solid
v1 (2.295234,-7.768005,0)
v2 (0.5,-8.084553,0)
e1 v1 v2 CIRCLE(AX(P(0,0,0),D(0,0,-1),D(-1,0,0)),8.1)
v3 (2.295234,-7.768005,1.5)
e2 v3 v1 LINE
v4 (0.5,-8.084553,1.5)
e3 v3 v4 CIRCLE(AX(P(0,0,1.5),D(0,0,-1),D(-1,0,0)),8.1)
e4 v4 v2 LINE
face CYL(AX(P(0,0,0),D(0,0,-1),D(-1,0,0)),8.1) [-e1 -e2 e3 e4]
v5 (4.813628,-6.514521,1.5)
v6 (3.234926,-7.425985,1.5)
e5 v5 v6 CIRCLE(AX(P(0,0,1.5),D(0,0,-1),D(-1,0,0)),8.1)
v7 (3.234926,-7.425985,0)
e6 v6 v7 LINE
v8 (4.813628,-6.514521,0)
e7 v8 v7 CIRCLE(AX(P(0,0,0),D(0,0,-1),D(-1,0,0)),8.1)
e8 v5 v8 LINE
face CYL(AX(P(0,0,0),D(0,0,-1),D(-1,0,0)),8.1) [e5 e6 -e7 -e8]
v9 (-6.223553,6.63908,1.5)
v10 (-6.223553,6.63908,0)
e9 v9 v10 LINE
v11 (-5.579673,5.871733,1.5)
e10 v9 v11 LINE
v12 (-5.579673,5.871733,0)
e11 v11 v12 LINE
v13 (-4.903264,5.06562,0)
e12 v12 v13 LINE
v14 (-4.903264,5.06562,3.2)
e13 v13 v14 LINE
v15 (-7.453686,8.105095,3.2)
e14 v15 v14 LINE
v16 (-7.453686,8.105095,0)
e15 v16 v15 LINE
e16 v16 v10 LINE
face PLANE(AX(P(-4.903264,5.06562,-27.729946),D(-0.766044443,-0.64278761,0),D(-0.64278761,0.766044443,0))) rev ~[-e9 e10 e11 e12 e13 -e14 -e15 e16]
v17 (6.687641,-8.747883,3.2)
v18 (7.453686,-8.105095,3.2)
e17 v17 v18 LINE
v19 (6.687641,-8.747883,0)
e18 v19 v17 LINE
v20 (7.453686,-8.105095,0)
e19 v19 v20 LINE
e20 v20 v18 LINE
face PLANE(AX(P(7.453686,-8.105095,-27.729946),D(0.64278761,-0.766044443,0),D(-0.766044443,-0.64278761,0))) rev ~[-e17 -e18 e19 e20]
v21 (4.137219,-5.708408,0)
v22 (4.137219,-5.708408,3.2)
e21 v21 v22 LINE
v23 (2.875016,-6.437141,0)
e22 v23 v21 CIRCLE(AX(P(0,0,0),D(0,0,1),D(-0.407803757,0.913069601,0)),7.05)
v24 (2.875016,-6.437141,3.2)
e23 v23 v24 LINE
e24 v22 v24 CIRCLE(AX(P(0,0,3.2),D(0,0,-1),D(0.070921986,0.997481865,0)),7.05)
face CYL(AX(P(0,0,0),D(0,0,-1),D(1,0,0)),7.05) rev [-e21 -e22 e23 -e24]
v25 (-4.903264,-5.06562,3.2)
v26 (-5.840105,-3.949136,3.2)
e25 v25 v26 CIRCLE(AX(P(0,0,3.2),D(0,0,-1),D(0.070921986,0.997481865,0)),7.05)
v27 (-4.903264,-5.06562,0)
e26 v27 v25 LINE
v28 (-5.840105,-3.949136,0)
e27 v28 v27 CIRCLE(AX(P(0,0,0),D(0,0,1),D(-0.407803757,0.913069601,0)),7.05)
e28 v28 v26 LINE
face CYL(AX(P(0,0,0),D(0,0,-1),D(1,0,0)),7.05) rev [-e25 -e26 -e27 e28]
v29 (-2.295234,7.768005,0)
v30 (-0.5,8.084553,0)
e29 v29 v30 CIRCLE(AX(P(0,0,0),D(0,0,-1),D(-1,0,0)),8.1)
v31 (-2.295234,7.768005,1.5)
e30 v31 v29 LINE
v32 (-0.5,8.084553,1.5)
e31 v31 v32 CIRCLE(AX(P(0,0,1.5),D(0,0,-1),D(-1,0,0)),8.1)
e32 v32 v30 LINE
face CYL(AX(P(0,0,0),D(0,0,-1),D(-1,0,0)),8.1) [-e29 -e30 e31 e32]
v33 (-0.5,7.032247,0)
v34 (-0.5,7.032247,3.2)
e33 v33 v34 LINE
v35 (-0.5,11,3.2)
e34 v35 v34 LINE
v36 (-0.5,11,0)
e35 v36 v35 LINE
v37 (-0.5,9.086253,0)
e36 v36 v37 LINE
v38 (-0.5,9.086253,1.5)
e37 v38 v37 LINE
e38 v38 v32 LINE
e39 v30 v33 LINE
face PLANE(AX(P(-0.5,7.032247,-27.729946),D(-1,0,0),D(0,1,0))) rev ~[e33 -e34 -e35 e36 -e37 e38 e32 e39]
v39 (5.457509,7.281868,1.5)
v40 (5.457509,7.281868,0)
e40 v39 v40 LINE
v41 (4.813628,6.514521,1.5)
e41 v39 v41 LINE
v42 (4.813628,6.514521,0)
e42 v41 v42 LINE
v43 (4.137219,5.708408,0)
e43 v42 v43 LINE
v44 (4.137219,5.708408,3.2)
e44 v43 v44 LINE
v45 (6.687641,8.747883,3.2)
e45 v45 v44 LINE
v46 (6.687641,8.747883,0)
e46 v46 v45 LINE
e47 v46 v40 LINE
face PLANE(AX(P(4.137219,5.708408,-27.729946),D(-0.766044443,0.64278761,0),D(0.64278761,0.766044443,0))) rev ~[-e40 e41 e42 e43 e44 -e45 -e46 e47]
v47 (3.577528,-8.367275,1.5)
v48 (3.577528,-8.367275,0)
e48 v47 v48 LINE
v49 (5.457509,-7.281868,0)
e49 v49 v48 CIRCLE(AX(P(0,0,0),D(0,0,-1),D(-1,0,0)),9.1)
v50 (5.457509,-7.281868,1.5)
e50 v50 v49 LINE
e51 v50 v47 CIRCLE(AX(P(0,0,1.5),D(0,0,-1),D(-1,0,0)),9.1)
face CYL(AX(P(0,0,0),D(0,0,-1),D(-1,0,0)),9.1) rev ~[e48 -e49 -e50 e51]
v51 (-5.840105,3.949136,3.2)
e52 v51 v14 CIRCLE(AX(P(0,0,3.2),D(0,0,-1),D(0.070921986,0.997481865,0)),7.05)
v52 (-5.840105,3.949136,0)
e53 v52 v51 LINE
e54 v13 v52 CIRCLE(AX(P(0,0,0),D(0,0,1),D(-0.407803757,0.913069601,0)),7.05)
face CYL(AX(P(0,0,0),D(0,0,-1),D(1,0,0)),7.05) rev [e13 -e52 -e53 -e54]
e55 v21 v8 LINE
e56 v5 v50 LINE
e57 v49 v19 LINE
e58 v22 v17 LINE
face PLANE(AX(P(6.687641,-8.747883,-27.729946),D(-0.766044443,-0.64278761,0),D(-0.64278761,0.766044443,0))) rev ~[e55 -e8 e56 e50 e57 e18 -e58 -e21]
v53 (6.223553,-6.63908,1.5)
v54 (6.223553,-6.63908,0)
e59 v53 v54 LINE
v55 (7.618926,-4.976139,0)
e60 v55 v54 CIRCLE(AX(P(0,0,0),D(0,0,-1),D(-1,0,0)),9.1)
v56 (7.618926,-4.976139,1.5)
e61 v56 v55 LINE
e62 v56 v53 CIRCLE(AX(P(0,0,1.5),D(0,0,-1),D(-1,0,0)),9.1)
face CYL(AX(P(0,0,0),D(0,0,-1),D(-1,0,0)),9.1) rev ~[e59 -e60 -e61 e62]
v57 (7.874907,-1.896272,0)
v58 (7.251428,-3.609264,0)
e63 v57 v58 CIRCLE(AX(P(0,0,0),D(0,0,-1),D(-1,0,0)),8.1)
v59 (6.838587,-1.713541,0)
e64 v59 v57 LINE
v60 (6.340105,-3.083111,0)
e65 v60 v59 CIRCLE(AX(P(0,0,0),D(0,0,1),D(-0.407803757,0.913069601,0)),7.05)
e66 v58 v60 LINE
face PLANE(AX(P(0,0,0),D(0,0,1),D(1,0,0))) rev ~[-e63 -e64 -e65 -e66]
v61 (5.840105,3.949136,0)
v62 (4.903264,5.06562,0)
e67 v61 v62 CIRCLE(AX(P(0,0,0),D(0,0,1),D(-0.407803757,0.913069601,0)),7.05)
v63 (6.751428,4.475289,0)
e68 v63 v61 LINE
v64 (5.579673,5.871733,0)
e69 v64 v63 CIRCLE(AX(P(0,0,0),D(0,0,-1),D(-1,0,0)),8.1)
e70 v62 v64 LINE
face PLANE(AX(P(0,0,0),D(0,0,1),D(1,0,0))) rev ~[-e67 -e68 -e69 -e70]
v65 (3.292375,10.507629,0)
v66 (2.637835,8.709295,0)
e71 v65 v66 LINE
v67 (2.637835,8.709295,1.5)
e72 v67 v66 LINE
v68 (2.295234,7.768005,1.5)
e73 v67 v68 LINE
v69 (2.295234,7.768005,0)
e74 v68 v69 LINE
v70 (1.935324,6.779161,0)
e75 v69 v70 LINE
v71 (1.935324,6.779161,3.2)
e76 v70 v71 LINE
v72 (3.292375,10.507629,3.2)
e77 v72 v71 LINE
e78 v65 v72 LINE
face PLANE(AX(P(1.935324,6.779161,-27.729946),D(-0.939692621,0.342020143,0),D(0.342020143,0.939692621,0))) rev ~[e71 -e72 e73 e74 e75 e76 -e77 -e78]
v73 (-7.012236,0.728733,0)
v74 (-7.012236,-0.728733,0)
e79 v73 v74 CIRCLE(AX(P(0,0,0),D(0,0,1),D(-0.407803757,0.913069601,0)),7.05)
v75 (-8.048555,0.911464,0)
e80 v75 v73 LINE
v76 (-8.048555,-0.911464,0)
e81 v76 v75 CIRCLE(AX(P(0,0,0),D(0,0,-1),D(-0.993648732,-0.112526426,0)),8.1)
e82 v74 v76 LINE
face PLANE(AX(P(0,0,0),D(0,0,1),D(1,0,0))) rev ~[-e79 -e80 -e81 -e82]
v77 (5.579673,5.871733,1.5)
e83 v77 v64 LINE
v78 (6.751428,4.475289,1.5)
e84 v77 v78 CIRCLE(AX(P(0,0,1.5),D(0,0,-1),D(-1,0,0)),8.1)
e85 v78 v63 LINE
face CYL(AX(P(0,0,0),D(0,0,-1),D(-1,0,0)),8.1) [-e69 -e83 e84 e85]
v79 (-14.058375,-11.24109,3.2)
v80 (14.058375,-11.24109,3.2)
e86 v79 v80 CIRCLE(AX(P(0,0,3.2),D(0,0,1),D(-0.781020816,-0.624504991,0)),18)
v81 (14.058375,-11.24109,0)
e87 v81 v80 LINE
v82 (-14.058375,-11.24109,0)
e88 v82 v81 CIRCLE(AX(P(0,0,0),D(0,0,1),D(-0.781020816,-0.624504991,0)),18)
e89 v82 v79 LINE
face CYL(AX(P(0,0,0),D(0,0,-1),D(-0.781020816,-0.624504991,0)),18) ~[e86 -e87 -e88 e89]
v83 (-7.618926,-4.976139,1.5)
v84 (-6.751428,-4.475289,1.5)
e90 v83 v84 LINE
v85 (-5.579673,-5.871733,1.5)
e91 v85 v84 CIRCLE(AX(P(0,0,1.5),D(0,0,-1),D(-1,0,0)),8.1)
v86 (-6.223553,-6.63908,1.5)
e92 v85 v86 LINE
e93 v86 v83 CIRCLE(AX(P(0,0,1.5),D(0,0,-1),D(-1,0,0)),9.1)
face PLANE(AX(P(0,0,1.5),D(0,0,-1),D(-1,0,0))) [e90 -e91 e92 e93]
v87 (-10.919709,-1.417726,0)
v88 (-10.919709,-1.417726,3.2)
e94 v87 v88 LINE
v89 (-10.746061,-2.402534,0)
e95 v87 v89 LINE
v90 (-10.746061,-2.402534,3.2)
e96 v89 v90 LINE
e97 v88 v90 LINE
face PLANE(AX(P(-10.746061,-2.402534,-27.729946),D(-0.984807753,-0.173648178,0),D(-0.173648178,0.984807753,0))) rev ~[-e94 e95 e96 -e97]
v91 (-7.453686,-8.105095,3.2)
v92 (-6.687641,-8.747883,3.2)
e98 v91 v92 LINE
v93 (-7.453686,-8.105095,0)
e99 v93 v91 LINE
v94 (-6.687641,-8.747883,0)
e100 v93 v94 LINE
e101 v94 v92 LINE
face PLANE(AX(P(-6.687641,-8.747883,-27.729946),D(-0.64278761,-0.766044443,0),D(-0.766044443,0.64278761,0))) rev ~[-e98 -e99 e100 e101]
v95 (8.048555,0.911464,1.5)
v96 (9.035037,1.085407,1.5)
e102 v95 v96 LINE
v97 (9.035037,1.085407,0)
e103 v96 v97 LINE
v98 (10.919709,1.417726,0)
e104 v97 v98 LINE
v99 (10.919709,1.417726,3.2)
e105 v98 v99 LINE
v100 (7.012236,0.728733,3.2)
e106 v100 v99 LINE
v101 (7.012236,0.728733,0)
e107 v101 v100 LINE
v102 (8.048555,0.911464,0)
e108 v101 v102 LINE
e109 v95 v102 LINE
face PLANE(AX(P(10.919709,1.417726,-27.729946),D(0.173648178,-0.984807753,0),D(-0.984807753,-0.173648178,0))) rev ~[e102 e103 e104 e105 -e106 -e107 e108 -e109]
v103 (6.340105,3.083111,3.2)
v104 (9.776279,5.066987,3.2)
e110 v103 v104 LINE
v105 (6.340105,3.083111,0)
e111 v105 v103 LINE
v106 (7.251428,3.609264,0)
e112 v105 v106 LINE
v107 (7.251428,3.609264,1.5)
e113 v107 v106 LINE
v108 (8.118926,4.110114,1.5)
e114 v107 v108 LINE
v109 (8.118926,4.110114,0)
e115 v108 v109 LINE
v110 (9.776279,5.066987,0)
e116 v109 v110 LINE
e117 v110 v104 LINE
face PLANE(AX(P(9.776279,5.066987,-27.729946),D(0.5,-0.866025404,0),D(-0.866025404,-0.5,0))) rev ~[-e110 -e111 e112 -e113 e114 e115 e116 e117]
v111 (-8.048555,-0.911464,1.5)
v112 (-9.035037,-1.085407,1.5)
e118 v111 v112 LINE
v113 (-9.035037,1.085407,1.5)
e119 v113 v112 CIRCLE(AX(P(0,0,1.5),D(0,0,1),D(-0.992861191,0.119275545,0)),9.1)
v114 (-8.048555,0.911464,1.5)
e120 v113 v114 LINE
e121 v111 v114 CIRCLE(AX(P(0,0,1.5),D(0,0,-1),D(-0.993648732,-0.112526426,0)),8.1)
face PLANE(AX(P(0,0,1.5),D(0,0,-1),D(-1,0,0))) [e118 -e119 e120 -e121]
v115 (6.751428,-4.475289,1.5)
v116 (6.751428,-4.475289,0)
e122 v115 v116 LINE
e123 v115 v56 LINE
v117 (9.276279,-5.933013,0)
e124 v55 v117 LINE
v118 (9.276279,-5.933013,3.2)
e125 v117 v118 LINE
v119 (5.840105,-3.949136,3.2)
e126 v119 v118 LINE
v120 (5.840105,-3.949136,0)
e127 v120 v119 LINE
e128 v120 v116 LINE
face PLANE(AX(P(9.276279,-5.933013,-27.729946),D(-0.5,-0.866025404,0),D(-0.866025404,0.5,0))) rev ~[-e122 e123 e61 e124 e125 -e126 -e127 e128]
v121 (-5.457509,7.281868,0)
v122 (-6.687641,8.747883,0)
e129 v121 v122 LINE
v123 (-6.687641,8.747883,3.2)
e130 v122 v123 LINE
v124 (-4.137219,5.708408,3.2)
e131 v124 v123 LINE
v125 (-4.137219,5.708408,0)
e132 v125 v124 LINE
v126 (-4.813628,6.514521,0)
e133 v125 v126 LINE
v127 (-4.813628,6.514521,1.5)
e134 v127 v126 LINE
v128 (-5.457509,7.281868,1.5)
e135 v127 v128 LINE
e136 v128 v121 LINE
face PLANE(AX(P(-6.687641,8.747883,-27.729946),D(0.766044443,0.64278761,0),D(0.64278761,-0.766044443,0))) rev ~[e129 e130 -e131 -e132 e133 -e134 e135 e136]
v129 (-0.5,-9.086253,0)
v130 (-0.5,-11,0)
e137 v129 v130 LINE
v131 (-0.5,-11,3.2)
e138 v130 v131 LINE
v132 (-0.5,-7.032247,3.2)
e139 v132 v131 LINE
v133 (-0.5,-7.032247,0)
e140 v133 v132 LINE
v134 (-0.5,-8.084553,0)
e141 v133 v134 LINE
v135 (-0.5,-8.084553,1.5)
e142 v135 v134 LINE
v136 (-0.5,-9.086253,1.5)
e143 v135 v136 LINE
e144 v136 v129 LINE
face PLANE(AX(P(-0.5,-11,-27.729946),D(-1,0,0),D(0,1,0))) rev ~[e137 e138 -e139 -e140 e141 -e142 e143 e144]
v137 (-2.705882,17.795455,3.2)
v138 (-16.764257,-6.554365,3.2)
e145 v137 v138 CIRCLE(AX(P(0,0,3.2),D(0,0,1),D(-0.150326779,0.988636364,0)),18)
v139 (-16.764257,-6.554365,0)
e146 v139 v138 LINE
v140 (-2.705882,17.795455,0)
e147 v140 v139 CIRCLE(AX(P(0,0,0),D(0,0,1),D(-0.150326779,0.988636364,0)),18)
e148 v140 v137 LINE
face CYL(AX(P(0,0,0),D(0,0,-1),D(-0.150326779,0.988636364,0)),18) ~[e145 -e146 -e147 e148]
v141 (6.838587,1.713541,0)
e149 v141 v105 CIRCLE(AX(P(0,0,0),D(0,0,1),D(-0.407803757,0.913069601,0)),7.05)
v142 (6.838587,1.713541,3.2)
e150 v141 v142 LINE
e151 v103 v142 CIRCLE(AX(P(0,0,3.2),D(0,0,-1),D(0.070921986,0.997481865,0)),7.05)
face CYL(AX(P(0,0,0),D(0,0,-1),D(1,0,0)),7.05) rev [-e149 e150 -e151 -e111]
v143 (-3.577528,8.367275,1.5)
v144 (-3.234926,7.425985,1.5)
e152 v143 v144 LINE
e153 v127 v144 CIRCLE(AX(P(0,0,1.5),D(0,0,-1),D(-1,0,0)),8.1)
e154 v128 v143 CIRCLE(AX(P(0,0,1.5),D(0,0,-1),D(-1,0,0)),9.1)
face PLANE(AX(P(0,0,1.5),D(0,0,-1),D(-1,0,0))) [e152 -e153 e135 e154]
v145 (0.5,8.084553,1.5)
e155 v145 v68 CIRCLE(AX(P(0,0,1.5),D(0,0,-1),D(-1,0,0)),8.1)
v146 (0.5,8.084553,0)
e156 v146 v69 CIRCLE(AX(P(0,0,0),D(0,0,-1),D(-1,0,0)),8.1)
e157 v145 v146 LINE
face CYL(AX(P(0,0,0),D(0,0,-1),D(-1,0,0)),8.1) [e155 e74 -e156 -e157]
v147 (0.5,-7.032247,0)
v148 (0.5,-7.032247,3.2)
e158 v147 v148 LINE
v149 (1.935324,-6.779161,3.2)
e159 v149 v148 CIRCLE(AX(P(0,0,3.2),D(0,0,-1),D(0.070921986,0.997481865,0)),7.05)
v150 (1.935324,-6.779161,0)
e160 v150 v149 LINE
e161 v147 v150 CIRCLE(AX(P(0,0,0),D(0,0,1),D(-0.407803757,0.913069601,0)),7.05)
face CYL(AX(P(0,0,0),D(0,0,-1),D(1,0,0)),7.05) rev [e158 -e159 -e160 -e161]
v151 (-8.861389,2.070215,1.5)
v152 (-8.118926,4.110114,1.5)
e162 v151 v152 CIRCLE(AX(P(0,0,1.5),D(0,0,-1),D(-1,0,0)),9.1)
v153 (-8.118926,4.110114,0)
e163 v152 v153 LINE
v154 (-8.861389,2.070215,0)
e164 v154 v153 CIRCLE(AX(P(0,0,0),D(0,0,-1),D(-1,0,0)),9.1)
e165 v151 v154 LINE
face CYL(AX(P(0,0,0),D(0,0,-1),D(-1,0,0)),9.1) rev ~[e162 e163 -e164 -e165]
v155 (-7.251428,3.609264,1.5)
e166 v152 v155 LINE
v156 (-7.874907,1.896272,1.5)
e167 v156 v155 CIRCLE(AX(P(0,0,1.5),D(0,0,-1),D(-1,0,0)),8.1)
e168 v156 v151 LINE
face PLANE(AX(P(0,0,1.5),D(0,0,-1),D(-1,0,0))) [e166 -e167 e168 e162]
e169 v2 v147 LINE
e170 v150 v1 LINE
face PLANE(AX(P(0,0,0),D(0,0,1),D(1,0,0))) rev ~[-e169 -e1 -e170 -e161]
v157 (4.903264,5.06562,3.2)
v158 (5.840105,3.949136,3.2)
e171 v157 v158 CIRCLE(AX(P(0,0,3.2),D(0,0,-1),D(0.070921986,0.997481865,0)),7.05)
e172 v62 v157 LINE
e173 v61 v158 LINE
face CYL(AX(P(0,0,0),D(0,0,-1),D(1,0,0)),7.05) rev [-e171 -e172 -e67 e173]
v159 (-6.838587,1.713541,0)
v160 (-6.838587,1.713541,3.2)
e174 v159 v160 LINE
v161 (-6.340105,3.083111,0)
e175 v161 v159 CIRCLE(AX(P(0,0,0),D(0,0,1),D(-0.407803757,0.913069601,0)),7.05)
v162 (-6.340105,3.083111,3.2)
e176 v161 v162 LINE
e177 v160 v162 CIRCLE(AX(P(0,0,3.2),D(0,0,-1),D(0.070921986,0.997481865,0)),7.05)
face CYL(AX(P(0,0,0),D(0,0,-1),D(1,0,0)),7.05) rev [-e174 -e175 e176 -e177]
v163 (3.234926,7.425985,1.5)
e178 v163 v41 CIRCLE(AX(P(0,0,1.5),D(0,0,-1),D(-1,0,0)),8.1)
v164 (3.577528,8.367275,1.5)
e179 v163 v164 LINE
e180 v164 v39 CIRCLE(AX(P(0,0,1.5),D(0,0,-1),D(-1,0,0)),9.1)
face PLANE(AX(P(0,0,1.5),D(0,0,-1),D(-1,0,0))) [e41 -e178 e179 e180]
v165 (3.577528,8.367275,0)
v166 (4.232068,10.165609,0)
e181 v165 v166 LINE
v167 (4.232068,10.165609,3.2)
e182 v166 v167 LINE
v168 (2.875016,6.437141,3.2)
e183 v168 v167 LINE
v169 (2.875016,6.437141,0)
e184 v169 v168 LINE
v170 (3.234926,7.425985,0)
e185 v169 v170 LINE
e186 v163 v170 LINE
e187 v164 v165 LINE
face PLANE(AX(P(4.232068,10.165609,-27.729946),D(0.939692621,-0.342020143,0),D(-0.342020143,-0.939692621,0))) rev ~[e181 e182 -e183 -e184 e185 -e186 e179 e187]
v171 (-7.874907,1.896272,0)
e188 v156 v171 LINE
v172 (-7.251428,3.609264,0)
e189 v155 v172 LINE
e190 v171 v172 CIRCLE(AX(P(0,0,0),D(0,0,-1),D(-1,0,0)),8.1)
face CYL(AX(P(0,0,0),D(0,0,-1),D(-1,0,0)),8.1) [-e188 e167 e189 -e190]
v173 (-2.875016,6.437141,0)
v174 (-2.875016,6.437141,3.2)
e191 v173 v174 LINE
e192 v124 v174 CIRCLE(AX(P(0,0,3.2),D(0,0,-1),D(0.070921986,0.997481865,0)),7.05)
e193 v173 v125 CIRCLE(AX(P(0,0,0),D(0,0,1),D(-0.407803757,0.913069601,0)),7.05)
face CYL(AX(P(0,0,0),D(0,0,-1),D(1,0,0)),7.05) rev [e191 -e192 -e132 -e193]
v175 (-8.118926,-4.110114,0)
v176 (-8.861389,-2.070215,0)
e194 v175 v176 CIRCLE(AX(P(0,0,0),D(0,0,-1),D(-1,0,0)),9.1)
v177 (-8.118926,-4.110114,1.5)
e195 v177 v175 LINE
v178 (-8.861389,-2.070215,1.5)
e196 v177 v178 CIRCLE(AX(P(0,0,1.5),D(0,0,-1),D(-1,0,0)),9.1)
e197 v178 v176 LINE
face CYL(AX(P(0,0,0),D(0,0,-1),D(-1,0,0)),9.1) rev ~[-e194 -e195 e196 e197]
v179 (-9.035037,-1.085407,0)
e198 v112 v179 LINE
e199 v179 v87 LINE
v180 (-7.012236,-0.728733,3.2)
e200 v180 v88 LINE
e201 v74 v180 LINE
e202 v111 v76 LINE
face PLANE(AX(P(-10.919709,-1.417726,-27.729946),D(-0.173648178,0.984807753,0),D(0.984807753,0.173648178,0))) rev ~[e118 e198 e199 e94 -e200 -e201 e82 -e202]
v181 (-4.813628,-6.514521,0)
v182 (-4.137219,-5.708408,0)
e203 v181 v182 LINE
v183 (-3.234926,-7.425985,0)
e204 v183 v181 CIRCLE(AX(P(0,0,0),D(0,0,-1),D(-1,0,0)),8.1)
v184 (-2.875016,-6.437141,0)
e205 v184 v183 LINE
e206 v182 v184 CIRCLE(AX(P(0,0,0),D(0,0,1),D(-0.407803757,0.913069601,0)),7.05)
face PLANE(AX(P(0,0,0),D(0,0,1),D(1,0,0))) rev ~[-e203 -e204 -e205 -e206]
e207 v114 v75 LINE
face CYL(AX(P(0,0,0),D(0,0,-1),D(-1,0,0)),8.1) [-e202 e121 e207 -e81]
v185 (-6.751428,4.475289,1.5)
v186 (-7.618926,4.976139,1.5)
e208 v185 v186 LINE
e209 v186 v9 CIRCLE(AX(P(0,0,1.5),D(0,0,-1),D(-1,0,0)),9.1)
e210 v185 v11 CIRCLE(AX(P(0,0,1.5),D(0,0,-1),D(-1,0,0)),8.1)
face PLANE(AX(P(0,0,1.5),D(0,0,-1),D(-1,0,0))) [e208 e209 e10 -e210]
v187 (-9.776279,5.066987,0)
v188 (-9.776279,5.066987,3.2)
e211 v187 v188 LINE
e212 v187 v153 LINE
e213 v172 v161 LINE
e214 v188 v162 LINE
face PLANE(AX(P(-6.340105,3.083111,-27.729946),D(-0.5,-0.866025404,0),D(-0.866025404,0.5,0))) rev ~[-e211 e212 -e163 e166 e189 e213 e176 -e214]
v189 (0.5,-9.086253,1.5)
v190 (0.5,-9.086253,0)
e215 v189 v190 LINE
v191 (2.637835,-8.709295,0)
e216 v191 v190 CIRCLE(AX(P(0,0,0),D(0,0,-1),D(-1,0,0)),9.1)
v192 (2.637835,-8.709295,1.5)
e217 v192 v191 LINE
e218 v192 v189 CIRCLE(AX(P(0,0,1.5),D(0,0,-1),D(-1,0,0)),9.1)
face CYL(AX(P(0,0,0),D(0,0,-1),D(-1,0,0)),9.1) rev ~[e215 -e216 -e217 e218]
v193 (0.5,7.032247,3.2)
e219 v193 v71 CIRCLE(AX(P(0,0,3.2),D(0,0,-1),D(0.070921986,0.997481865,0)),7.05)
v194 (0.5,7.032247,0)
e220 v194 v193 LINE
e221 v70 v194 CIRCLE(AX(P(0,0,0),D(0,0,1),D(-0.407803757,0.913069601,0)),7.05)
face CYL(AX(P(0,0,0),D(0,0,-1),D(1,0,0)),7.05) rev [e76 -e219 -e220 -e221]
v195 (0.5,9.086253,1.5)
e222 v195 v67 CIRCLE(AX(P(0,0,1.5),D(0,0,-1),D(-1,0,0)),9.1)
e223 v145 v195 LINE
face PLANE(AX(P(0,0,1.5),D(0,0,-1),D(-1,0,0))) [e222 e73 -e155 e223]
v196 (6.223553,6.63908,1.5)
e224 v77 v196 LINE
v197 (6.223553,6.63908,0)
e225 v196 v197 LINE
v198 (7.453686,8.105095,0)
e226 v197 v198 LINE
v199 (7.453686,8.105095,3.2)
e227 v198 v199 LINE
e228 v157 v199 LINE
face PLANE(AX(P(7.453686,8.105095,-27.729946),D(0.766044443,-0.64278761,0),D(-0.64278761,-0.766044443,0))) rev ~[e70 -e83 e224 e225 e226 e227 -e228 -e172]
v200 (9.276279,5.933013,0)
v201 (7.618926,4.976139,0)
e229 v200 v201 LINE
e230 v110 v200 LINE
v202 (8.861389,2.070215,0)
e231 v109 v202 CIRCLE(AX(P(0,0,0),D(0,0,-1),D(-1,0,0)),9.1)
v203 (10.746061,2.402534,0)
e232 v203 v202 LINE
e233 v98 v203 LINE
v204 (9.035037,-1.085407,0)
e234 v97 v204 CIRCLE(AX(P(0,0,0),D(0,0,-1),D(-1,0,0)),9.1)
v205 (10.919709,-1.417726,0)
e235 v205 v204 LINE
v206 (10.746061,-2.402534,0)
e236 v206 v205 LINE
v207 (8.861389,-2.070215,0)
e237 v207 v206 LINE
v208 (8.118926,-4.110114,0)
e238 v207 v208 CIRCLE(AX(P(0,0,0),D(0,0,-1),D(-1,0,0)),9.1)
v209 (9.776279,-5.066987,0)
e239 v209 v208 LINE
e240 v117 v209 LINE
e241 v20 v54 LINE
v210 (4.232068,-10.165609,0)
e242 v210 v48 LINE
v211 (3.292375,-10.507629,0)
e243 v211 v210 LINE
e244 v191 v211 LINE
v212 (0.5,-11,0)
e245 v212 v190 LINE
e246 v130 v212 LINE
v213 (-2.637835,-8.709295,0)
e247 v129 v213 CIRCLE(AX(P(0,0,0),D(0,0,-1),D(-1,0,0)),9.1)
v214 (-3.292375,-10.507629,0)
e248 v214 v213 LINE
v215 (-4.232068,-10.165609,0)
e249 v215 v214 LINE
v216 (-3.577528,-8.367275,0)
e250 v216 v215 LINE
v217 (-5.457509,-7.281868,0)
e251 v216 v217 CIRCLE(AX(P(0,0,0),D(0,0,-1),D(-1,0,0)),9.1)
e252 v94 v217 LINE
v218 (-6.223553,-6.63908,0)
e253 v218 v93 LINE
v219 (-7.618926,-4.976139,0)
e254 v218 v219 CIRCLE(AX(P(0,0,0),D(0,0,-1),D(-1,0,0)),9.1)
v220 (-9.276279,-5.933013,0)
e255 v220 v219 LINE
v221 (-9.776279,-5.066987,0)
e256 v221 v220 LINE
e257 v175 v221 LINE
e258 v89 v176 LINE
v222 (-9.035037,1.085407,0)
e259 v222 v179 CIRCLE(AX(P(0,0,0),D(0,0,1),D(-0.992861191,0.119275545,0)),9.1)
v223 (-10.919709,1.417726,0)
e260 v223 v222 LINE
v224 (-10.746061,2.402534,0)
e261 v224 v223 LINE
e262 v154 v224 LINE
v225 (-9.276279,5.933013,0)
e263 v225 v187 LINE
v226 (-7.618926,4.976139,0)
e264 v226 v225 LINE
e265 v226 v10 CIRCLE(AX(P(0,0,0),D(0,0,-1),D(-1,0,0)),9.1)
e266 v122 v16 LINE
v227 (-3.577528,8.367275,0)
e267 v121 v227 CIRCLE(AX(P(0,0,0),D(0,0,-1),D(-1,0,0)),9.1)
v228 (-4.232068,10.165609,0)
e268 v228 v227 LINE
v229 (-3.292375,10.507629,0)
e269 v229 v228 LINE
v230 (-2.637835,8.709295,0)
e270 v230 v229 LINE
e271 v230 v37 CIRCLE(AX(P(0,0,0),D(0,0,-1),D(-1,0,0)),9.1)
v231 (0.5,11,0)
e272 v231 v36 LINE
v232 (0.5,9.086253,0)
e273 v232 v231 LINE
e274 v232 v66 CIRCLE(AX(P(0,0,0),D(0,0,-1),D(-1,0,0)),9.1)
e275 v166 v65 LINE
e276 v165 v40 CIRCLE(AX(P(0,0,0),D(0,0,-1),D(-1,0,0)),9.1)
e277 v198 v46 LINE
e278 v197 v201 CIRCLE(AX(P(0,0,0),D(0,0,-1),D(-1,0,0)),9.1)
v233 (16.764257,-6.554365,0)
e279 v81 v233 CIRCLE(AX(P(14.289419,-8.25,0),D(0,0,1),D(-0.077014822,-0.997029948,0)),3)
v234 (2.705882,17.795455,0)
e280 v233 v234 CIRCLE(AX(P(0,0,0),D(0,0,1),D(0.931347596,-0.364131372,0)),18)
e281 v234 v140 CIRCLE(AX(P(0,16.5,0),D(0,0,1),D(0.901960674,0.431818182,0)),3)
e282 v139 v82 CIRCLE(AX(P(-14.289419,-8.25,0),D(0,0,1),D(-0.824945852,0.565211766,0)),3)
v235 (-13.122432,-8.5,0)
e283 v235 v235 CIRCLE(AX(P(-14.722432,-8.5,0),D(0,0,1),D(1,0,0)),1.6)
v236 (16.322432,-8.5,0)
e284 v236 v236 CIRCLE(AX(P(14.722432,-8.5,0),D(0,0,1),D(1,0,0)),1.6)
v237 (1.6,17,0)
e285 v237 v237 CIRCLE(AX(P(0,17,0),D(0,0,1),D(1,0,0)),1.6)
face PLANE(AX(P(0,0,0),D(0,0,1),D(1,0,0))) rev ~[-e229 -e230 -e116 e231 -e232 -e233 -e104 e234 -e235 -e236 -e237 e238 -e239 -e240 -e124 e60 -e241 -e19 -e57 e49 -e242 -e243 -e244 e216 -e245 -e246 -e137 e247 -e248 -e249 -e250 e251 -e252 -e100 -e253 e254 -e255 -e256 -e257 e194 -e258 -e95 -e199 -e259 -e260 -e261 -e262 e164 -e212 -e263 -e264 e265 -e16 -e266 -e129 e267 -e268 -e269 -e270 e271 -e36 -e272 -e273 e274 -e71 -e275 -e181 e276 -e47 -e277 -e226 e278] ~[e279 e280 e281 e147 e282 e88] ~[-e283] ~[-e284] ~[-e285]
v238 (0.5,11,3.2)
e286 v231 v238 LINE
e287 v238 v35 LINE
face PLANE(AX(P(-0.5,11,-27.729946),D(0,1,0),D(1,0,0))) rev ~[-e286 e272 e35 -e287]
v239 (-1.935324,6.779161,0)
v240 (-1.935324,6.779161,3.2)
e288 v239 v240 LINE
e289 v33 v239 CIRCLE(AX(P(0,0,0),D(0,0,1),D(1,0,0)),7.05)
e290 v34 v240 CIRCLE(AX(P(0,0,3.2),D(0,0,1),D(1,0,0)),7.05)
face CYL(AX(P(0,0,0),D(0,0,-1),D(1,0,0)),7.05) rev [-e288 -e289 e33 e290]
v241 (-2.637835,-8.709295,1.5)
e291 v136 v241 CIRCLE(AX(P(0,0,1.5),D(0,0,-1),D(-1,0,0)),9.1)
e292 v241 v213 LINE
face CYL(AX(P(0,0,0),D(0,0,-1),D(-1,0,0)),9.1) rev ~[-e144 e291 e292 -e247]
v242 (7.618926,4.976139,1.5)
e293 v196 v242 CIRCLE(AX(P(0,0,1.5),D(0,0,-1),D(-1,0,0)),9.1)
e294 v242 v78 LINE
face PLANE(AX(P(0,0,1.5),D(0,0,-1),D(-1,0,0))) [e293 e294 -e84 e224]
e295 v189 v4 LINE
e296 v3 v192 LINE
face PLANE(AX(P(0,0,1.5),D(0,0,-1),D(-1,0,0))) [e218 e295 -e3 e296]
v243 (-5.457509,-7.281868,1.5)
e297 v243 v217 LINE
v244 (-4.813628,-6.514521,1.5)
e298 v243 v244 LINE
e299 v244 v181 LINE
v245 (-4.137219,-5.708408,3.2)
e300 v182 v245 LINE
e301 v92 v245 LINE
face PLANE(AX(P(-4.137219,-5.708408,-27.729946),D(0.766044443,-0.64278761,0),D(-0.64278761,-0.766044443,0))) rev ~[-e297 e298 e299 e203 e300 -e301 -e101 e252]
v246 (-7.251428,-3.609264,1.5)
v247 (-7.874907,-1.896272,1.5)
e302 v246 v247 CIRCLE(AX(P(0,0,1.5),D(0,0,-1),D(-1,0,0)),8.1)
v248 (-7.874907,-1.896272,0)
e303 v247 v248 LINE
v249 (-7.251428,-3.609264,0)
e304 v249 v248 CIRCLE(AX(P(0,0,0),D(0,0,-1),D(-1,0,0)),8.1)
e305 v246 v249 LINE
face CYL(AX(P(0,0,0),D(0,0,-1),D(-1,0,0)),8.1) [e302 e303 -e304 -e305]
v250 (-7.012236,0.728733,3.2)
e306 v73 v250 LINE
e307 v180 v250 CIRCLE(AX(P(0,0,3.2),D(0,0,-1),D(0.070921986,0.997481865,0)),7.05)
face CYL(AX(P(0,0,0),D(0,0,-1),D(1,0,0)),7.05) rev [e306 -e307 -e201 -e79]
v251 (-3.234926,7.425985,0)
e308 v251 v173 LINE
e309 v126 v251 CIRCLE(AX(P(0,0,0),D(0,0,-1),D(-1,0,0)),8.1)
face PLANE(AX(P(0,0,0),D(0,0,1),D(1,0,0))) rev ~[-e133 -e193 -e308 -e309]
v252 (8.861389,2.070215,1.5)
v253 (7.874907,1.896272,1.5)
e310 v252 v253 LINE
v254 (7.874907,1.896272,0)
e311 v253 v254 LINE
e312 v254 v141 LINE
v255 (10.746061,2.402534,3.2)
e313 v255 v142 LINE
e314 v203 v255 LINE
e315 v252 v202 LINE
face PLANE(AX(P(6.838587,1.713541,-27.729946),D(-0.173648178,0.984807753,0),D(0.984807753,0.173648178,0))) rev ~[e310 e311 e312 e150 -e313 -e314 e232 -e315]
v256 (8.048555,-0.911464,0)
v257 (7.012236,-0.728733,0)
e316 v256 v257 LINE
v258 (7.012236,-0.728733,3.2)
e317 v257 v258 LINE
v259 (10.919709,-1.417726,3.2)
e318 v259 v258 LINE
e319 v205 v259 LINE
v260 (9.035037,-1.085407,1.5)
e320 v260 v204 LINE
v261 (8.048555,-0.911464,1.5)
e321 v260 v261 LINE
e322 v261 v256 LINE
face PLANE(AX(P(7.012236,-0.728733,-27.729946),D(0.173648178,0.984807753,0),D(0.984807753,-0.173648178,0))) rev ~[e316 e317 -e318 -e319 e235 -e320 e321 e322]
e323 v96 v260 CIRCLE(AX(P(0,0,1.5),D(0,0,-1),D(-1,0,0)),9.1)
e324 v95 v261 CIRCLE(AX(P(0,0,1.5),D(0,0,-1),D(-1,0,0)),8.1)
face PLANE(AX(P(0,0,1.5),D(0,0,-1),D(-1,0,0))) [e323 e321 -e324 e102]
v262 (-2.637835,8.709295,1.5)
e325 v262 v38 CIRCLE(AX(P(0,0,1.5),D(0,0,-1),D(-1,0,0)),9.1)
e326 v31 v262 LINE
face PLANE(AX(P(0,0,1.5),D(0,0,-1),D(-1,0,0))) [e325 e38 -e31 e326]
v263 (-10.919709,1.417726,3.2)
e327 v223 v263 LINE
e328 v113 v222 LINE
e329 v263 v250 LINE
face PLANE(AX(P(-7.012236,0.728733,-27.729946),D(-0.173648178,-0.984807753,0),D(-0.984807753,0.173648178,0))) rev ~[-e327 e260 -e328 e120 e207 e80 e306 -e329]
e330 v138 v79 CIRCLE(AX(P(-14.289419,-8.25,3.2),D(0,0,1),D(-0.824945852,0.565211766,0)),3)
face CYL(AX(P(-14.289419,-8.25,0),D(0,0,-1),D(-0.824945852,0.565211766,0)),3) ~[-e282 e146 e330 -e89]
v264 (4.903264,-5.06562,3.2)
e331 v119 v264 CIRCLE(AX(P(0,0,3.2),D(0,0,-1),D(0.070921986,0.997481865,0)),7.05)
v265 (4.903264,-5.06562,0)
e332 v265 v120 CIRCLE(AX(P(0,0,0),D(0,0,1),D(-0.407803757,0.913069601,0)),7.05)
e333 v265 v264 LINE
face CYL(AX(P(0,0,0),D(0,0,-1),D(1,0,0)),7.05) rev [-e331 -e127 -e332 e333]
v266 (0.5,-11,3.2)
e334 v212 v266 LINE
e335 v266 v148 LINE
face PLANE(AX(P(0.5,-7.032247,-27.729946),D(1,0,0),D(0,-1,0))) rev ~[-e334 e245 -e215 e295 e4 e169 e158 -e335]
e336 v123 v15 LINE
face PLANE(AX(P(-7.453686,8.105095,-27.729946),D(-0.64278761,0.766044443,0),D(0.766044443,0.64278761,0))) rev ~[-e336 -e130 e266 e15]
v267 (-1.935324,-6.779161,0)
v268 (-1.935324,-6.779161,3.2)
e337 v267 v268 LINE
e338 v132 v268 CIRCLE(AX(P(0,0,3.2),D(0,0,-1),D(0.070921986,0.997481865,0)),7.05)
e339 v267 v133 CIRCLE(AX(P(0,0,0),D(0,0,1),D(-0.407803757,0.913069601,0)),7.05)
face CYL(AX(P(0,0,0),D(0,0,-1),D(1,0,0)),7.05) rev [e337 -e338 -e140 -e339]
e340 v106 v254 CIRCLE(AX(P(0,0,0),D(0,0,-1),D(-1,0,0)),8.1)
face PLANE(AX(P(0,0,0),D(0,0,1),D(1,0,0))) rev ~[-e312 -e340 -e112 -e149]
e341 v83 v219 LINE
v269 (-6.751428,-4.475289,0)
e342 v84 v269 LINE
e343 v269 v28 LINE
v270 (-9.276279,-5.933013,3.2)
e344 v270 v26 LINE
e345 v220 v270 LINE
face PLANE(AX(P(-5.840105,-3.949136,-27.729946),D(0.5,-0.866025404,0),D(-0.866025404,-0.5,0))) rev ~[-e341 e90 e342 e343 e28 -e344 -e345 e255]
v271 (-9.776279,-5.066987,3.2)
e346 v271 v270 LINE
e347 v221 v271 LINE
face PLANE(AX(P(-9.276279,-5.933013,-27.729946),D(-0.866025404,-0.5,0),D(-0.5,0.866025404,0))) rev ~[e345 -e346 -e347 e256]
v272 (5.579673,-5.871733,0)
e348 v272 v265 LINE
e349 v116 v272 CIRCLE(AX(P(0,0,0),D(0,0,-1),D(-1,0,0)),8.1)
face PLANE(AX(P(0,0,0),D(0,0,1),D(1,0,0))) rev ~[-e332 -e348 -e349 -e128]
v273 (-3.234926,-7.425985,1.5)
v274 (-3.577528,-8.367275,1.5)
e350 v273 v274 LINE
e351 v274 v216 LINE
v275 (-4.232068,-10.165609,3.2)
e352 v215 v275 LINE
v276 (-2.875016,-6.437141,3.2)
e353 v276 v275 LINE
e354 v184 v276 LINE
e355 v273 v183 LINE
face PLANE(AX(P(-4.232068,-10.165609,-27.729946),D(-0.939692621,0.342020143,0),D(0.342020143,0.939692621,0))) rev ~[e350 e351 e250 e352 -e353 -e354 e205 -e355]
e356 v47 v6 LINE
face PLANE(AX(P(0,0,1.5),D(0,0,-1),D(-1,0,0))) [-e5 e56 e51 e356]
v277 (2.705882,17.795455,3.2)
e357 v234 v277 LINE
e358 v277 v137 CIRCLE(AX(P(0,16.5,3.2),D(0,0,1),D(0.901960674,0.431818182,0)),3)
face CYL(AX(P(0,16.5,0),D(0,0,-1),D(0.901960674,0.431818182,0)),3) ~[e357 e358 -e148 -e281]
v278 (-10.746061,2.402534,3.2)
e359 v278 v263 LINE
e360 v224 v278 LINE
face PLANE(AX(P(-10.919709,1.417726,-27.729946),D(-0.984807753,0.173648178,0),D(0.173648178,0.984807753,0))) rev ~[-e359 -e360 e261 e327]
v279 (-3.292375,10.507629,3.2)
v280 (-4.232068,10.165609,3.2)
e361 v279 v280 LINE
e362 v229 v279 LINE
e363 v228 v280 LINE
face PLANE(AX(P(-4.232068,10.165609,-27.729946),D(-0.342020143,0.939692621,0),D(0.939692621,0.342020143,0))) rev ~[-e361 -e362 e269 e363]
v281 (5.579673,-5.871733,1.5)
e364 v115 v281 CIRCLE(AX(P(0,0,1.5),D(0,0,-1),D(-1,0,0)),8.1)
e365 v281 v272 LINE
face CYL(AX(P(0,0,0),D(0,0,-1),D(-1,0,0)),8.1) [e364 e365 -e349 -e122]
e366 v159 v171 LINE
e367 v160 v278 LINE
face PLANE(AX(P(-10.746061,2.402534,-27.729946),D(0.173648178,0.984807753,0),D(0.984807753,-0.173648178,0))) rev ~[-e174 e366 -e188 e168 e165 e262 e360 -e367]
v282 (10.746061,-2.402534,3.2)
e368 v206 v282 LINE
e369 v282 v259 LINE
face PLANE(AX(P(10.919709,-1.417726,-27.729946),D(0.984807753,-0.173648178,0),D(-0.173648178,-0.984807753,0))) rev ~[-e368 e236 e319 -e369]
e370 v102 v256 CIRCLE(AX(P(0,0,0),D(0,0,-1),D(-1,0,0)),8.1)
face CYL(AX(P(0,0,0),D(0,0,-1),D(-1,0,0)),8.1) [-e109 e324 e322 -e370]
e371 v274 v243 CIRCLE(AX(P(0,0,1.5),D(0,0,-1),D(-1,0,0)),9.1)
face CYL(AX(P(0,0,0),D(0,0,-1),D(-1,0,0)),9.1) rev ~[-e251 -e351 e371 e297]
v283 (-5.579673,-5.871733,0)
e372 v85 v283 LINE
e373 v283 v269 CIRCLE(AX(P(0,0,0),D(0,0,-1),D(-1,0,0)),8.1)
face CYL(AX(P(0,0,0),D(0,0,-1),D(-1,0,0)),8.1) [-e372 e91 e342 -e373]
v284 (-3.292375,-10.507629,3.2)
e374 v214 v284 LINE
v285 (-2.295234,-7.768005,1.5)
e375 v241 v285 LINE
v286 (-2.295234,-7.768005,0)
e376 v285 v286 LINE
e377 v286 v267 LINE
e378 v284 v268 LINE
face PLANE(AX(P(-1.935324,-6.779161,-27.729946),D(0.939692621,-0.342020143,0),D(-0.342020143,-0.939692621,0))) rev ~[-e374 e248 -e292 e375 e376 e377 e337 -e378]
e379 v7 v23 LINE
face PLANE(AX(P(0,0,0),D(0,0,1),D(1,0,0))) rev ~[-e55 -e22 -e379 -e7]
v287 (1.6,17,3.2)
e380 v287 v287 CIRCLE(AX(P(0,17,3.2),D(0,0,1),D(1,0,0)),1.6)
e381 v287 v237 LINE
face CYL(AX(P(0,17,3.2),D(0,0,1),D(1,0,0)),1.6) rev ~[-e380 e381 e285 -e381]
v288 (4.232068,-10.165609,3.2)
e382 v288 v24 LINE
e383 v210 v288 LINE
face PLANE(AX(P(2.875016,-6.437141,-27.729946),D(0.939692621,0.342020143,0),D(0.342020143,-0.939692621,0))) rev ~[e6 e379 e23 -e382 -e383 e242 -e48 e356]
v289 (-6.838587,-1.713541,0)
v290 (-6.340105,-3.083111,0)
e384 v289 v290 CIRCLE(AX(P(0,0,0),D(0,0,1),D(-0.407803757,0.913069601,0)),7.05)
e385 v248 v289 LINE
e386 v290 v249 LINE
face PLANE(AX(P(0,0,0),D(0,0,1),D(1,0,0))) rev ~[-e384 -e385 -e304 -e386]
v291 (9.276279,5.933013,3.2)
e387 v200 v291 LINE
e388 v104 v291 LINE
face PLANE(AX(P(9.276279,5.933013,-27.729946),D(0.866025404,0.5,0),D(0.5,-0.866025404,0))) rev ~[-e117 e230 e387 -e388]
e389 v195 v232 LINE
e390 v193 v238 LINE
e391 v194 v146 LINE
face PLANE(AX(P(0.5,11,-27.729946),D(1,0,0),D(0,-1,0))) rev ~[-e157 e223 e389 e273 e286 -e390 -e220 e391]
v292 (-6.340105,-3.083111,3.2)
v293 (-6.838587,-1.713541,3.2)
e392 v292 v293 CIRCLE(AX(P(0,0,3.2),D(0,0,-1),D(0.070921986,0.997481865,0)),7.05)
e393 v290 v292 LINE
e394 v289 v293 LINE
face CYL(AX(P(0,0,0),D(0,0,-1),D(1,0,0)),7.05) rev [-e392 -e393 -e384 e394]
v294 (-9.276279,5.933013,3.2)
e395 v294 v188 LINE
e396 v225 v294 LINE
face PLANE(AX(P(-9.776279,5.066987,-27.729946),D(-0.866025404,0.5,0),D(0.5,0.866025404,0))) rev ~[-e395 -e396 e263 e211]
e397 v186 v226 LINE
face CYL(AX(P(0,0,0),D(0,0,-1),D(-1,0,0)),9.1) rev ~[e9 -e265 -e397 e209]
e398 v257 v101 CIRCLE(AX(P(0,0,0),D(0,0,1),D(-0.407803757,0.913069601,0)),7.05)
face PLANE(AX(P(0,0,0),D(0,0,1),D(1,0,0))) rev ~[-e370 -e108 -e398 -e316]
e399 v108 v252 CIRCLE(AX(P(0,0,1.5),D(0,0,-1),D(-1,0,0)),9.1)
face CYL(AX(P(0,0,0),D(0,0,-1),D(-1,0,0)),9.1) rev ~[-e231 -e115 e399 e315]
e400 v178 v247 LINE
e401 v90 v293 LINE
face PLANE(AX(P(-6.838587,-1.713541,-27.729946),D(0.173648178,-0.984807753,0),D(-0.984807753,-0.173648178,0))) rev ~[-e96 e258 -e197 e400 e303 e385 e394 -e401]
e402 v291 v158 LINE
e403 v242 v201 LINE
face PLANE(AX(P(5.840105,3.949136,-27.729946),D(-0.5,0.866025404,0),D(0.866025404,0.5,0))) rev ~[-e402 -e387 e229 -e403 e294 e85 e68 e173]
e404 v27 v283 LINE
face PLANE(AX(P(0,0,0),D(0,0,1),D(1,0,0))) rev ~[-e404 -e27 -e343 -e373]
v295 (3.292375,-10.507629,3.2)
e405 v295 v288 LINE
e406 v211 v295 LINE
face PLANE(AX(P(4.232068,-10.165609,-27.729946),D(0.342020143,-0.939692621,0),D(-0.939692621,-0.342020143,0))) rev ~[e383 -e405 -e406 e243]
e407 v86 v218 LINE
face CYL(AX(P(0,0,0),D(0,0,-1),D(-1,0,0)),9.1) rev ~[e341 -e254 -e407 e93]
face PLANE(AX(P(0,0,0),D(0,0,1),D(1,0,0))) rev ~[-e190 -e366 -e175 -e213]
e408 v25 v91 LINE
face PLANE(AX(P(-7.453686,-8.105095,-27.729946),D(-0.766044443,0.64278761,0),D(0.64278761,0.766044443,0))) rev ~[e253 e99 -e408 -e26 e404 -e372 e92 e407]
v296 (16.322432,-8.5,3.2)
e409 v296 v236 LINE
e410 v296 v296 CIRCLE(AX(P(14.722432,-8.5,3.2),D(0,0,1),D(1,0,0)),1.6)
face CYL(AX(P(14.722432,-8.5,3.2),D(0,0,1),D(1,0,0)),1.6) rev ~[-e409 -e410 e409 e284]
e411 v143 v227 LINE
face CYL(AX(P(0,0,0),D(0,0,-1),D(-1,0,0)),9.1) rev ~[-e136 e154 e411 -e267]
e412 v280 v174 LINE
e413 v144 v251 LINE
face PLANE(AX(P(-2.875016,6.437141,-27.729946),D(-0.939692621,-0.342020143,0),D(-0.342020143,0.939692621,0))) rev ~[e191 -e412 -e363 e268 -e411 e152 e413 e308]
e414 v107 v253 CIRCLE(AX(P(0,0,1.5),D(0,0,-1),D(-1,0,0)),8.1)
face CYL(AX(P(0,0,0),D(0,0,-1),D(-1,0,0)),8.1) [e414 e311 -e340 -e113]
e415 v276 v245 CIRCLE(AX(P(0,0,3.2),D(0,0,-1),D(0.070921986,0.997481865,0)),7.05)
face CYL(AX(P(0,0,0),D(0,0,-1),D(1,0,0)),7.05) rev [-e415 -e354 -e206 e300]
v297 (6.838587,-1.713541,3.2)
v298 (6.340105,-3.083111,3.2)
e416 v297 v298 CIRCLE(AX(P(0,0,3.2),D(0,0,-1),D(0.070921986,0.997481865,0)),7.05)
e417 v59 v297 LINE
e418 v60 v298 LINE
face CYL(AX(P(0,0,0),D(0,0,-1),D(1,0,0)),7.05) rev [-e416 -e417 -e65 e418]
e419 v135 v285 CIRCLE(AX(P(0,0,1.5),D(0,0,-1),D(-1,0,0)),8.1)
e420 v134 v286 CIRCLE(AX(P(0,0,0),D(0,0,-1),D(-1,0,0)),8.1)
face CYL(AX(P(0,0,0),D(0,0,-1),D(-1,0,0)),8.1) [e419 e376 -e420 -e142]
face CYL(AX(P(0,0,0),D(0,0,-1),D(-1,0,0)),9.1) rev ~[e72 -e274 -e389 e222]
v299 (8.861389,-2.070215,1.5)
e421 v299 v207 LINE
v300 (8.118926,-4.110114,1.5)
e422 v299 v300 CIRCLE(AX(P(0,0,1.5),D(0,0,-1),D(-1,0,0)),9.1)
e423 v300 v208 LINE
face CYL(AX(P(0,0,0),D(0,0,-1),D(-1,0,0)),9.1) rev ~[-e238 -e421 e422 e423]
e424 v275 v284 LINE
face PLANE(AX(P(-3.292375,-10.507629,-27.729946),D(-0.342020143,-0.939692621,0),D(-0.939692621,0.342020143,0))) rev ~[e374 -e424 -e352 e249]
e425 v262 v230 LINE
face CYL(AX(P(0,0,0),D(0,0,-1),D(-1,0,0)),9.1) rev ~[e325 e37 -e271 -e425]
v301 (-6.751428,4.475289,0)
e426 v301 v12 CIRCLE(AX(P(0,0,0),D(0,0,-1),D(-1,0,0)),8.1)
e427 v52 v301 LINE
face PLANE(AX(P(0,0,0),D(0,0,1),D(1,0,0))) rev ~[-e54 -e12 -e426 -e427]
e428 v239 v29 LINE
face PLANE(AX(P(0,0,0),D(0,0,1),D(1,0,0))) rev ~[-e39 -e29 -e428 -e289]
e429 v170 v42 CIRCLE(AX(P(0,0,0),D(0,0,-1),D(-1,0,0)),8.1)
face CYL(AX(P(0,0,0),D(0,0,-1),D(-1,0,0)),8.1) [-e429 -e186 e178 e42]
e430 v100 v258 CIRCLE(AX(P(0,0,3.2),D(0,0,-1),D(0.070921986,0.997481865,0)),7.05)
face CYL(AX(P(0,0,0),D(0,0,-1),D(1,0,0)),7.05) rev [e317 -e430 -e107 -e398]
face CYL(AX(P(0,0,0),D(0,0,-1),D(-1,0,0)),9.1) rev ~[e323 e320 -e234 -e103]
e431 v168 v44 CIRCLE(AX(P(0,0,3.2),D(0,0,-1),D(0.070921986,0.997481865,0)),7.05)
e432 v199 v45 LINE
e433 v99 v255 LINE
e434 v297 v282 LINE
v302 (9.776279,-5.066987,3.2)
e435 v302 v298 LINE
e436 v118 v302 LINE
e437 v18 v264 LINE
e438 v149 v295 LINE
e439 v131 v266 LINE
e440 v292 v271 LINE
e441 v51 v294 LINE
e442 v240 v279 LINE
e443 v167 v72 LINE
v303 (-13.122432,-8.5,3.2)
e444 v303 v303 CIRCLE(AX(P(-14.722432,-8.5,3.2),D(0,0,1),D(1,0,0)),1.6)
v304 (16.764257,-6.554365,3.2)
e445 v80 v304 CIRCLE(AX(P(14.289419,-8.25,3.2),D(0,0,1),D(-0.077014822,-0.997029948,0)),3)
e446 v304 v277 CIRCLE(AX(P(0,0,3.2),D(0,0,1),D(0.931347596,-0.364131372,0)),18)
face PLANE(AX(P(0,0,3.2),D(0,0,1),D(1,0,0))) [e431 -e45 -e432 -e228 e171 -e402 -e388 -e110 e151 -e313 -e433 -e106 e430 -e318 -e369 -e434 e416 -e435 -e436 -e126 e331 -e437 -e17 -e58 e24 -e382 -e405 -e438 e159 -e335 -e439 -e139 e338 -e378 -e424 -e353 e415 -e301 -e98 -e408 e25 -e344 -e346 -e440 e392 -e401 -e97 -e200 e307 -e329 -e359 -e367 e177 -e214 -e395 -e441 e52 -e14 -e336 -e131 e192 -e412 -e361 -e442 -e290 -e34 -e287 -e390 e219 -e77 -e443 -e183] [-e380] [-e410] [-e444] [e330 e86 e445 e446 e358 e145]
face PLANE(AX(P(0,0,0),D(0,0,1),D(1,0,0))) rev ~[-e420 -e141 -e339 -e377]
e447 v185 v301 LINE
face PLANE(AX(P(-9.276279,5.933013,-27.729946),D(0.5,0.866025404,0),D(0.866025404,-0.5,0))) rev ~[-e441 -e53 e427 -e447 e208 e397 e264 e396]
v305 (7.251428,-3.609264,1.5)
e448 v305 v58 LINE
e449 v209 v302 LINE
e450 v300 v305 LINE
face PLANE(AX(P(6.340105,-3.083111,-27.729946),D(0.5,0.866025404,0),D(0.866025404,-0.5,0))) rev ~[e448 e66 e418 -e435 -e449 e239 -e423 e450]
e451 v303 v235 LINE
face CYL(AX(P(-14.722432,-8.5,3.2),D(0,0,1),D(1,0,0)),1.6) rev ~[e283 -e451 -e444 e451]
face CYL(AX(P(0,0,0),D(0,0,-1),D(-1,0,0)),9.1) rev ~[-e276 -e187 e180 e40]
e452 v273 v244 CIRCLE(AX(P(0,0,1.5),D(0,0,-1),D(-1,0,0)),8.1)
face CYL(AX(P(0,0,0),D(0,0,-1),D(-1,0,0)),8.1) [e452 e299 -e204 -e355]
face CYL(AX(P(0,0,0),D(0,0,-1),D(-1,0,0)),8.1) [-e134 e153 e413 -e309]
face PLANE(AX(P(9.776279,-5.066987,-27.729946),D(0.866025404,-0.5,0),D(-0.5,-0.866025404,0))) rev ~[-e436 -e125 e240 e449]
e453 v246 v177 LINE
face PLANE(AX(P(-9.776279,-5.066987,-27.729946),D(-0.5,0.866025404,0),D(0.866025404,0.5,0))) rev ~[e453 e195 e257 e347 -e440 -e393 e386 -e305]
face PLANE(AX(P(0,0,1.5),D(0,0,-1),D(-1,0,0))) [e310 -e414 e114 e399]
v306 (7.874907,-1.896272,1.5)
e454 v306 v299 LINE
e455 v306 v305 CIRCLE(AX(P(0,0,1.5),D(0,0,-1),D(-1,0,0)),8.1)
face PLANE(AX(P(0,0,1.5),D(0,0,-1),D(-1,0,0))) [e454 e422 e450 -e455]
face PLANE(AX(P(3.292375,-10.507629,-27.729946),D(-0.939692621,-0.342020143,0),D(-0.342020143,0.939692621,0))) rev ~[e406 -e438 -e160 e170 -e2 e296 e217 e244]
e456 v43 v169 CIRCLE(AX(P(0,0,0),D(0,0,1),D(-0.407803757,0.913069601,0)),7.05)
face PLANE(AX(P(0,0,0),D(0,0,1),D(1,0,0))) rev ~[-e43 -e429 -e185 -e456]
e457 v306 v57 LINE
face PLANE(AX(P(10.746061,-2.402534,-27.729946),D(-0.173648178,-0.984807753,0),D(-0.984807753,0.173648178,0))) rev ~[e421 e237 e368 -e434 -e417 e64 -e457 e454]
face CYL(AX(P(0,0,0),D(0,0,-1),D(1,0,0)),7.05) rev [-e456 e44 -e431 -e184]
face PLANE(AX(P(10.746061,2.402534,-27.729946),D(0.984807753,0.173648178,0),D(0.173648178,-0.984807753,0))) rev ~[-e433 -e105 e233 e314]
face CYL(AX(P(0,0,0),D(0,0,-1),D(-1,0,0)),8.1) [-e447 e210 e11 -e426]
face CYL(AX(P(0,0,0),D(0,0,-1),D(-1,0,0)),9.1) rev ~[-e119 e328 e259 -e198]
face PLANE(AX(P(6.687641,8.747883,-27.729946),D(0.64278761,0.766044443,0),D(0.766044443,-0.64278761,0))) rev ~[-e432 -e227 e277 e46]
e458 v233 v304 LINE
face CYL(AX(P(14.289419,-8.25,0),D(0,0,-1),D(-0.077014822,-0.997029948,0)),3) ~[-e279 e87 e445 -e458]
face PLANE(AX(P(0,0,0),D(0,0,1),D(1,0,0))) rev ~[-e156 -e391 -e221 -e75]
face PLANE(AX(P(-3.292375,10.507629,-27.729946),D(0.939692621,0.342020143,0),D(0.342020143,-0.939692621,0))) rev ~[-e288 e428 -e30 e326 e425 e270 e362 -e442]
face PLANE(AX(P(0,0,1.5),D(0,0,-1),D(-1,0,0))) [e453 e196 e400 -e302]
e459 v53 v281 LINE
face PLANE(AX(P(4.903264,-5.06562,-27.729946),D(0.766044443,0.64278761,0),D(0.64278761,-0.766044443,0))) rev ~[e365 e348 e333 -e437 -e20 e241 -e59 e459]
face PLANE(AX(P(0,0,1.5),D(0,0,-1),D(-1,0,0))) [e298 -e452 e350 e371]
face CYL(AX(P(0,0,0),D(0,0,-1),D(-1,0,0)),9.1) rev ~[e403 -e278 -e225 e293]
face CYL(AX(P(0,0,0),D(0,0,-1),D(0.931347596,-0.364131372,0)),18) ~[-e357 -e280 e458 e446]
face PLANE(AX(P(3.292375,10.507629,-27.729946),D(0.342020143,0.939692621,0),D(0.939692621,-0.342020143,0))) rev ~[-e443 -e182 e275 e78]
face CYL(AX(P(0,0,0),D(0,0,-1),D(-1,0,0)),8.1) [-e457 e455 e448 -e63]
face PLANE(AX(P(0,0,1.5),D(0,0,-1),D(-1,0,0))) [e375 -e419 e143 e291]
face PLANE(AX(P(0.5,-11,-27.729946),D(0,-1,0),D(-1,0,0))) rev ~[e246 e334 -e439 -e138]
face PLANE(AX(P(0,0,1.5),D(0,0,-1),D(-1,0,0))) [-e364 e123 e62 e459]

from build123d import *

# Parameters (mm, degrees)
SKETCH_1_R               = 7.05
EXTRUDE_1_DEPTH          = 3.2
SKETCH_2_R               = 1.6
CUT_EXTRUDE_1_DEPTH      = 10
CUT_EXTRUDE_START        = 27.729945754
CUT_EXTRUDE_3_DEPTH      = 31.729945754
PATTERN_CIRCULAR_1_COUNT = 18
SKETCH_4_R               = 9.1
SKETCH_4_R_2             = 8.1
CUT_EXTRUDE_4_DEPTH      = 1.5


with BuildPart() as part:
    # 草图1 → 凸台-拉伸1 (new body)
    with BuildSketch(Plane.XY):
        with BuildLine():
            ThreePointArc((-14.058374697, -11.241089844), (0, -18), (14.058374697, -11.241089844))
            ThreePointArc((14.058374697, -11.241089844), (16.887495374, -9.75), (16.76425672, -6.554364701))
            ThreePointArc((16.76425672, -6.554364701), (15.588457268, 9), (2.705882023, 17.795454545))
            ThreePointArc((2.705882023, 17.795454545), (0, 19.5), (-2.705882023, 17.795454545))
            ThreePointArc((-2.705882023, 17.795454545), (-15.588457268, 9), (-16.76425672, -6.554364701))
            ThreePointArc((-16.76425672, -6.554364701), (-16.887495374, -9.75), (-14.058374697, -11.241089844))
        make_face()
        Circle(SKETCH_1_R, mode=Mode.SUBTRACT)
    extrude(amount=EXTRUDE_1_DEPTH)

    # 草图2 → 切除-拉伸1 (cut)
    with BuildSketch(Plane.XY.offset(3.2)):
        with Locations((0, 17)):
            Circle(SKETCH_2_R)
        with Locations((14.722431864, -8.5)):
            Circle(SKETCH_2_R)
        with Locations((-14.722431864, -8.5)):
            Circle(SKETCH_2_R)
    extrude(amount=-CUT_EXTRUDE_1_DEPTH, mode=Mode.SUBTRACT)

    # 草图3 → 切除-拉伸3 (cut)
    with BuildSketch(Plane(origin=(0, 0, 0), x_dir=(-1, 0, 0), z_dir=(0, 0, -1)).offset(CUT_EXTRUDE_START)):
        with BuildLine():
            ThreePointArc((-0.5, 7.032247152), (0, 7.05), (0.5, 7.032247152))
            Line((0.5, 7.032247152), (0.5, 11))
            Line((0.5, 11), (-0.5, 11))
            Line((-0.5, 11), (-0.5, 7.032247152))
        make_face()
    cut_extrude_3 = extrude(amount=-CUT_EXTRUDE_3_DEPTH, mode=Mode.SUBTRACT)

    # 阵列(圆周)1: 切除-拉伸3 ×18 about axis
    pattern_circular_1_axis = Axis((0, 0, 0), (0, 0, 1))
    for i in range(1, PATTERN_CIRCULAR_1_COUNT):
        add(cut_extrude_3.rotate(pattern_circular_1_axis, i * 360 / PATTERN_CIRCULAR_1_COUNT), mode=Mode.SUBTRACT)

    # 草图4 → 切除-拉伸4 (cut)
    with BuildSketch(Plane(origin=(0, 0, 0), x_dir=(-1, 0, 0), z_dir=(0, 0, -1))):
        Circle(SKETCH_4_R)
        Circle(SKETCH_4_R_2, mode=Mode.SUBTRACT)
    extrude(amount=-CUT_EXTRUDE_4_DEPTH, mode=Mode.SUBTRACT)


solid = part.part
